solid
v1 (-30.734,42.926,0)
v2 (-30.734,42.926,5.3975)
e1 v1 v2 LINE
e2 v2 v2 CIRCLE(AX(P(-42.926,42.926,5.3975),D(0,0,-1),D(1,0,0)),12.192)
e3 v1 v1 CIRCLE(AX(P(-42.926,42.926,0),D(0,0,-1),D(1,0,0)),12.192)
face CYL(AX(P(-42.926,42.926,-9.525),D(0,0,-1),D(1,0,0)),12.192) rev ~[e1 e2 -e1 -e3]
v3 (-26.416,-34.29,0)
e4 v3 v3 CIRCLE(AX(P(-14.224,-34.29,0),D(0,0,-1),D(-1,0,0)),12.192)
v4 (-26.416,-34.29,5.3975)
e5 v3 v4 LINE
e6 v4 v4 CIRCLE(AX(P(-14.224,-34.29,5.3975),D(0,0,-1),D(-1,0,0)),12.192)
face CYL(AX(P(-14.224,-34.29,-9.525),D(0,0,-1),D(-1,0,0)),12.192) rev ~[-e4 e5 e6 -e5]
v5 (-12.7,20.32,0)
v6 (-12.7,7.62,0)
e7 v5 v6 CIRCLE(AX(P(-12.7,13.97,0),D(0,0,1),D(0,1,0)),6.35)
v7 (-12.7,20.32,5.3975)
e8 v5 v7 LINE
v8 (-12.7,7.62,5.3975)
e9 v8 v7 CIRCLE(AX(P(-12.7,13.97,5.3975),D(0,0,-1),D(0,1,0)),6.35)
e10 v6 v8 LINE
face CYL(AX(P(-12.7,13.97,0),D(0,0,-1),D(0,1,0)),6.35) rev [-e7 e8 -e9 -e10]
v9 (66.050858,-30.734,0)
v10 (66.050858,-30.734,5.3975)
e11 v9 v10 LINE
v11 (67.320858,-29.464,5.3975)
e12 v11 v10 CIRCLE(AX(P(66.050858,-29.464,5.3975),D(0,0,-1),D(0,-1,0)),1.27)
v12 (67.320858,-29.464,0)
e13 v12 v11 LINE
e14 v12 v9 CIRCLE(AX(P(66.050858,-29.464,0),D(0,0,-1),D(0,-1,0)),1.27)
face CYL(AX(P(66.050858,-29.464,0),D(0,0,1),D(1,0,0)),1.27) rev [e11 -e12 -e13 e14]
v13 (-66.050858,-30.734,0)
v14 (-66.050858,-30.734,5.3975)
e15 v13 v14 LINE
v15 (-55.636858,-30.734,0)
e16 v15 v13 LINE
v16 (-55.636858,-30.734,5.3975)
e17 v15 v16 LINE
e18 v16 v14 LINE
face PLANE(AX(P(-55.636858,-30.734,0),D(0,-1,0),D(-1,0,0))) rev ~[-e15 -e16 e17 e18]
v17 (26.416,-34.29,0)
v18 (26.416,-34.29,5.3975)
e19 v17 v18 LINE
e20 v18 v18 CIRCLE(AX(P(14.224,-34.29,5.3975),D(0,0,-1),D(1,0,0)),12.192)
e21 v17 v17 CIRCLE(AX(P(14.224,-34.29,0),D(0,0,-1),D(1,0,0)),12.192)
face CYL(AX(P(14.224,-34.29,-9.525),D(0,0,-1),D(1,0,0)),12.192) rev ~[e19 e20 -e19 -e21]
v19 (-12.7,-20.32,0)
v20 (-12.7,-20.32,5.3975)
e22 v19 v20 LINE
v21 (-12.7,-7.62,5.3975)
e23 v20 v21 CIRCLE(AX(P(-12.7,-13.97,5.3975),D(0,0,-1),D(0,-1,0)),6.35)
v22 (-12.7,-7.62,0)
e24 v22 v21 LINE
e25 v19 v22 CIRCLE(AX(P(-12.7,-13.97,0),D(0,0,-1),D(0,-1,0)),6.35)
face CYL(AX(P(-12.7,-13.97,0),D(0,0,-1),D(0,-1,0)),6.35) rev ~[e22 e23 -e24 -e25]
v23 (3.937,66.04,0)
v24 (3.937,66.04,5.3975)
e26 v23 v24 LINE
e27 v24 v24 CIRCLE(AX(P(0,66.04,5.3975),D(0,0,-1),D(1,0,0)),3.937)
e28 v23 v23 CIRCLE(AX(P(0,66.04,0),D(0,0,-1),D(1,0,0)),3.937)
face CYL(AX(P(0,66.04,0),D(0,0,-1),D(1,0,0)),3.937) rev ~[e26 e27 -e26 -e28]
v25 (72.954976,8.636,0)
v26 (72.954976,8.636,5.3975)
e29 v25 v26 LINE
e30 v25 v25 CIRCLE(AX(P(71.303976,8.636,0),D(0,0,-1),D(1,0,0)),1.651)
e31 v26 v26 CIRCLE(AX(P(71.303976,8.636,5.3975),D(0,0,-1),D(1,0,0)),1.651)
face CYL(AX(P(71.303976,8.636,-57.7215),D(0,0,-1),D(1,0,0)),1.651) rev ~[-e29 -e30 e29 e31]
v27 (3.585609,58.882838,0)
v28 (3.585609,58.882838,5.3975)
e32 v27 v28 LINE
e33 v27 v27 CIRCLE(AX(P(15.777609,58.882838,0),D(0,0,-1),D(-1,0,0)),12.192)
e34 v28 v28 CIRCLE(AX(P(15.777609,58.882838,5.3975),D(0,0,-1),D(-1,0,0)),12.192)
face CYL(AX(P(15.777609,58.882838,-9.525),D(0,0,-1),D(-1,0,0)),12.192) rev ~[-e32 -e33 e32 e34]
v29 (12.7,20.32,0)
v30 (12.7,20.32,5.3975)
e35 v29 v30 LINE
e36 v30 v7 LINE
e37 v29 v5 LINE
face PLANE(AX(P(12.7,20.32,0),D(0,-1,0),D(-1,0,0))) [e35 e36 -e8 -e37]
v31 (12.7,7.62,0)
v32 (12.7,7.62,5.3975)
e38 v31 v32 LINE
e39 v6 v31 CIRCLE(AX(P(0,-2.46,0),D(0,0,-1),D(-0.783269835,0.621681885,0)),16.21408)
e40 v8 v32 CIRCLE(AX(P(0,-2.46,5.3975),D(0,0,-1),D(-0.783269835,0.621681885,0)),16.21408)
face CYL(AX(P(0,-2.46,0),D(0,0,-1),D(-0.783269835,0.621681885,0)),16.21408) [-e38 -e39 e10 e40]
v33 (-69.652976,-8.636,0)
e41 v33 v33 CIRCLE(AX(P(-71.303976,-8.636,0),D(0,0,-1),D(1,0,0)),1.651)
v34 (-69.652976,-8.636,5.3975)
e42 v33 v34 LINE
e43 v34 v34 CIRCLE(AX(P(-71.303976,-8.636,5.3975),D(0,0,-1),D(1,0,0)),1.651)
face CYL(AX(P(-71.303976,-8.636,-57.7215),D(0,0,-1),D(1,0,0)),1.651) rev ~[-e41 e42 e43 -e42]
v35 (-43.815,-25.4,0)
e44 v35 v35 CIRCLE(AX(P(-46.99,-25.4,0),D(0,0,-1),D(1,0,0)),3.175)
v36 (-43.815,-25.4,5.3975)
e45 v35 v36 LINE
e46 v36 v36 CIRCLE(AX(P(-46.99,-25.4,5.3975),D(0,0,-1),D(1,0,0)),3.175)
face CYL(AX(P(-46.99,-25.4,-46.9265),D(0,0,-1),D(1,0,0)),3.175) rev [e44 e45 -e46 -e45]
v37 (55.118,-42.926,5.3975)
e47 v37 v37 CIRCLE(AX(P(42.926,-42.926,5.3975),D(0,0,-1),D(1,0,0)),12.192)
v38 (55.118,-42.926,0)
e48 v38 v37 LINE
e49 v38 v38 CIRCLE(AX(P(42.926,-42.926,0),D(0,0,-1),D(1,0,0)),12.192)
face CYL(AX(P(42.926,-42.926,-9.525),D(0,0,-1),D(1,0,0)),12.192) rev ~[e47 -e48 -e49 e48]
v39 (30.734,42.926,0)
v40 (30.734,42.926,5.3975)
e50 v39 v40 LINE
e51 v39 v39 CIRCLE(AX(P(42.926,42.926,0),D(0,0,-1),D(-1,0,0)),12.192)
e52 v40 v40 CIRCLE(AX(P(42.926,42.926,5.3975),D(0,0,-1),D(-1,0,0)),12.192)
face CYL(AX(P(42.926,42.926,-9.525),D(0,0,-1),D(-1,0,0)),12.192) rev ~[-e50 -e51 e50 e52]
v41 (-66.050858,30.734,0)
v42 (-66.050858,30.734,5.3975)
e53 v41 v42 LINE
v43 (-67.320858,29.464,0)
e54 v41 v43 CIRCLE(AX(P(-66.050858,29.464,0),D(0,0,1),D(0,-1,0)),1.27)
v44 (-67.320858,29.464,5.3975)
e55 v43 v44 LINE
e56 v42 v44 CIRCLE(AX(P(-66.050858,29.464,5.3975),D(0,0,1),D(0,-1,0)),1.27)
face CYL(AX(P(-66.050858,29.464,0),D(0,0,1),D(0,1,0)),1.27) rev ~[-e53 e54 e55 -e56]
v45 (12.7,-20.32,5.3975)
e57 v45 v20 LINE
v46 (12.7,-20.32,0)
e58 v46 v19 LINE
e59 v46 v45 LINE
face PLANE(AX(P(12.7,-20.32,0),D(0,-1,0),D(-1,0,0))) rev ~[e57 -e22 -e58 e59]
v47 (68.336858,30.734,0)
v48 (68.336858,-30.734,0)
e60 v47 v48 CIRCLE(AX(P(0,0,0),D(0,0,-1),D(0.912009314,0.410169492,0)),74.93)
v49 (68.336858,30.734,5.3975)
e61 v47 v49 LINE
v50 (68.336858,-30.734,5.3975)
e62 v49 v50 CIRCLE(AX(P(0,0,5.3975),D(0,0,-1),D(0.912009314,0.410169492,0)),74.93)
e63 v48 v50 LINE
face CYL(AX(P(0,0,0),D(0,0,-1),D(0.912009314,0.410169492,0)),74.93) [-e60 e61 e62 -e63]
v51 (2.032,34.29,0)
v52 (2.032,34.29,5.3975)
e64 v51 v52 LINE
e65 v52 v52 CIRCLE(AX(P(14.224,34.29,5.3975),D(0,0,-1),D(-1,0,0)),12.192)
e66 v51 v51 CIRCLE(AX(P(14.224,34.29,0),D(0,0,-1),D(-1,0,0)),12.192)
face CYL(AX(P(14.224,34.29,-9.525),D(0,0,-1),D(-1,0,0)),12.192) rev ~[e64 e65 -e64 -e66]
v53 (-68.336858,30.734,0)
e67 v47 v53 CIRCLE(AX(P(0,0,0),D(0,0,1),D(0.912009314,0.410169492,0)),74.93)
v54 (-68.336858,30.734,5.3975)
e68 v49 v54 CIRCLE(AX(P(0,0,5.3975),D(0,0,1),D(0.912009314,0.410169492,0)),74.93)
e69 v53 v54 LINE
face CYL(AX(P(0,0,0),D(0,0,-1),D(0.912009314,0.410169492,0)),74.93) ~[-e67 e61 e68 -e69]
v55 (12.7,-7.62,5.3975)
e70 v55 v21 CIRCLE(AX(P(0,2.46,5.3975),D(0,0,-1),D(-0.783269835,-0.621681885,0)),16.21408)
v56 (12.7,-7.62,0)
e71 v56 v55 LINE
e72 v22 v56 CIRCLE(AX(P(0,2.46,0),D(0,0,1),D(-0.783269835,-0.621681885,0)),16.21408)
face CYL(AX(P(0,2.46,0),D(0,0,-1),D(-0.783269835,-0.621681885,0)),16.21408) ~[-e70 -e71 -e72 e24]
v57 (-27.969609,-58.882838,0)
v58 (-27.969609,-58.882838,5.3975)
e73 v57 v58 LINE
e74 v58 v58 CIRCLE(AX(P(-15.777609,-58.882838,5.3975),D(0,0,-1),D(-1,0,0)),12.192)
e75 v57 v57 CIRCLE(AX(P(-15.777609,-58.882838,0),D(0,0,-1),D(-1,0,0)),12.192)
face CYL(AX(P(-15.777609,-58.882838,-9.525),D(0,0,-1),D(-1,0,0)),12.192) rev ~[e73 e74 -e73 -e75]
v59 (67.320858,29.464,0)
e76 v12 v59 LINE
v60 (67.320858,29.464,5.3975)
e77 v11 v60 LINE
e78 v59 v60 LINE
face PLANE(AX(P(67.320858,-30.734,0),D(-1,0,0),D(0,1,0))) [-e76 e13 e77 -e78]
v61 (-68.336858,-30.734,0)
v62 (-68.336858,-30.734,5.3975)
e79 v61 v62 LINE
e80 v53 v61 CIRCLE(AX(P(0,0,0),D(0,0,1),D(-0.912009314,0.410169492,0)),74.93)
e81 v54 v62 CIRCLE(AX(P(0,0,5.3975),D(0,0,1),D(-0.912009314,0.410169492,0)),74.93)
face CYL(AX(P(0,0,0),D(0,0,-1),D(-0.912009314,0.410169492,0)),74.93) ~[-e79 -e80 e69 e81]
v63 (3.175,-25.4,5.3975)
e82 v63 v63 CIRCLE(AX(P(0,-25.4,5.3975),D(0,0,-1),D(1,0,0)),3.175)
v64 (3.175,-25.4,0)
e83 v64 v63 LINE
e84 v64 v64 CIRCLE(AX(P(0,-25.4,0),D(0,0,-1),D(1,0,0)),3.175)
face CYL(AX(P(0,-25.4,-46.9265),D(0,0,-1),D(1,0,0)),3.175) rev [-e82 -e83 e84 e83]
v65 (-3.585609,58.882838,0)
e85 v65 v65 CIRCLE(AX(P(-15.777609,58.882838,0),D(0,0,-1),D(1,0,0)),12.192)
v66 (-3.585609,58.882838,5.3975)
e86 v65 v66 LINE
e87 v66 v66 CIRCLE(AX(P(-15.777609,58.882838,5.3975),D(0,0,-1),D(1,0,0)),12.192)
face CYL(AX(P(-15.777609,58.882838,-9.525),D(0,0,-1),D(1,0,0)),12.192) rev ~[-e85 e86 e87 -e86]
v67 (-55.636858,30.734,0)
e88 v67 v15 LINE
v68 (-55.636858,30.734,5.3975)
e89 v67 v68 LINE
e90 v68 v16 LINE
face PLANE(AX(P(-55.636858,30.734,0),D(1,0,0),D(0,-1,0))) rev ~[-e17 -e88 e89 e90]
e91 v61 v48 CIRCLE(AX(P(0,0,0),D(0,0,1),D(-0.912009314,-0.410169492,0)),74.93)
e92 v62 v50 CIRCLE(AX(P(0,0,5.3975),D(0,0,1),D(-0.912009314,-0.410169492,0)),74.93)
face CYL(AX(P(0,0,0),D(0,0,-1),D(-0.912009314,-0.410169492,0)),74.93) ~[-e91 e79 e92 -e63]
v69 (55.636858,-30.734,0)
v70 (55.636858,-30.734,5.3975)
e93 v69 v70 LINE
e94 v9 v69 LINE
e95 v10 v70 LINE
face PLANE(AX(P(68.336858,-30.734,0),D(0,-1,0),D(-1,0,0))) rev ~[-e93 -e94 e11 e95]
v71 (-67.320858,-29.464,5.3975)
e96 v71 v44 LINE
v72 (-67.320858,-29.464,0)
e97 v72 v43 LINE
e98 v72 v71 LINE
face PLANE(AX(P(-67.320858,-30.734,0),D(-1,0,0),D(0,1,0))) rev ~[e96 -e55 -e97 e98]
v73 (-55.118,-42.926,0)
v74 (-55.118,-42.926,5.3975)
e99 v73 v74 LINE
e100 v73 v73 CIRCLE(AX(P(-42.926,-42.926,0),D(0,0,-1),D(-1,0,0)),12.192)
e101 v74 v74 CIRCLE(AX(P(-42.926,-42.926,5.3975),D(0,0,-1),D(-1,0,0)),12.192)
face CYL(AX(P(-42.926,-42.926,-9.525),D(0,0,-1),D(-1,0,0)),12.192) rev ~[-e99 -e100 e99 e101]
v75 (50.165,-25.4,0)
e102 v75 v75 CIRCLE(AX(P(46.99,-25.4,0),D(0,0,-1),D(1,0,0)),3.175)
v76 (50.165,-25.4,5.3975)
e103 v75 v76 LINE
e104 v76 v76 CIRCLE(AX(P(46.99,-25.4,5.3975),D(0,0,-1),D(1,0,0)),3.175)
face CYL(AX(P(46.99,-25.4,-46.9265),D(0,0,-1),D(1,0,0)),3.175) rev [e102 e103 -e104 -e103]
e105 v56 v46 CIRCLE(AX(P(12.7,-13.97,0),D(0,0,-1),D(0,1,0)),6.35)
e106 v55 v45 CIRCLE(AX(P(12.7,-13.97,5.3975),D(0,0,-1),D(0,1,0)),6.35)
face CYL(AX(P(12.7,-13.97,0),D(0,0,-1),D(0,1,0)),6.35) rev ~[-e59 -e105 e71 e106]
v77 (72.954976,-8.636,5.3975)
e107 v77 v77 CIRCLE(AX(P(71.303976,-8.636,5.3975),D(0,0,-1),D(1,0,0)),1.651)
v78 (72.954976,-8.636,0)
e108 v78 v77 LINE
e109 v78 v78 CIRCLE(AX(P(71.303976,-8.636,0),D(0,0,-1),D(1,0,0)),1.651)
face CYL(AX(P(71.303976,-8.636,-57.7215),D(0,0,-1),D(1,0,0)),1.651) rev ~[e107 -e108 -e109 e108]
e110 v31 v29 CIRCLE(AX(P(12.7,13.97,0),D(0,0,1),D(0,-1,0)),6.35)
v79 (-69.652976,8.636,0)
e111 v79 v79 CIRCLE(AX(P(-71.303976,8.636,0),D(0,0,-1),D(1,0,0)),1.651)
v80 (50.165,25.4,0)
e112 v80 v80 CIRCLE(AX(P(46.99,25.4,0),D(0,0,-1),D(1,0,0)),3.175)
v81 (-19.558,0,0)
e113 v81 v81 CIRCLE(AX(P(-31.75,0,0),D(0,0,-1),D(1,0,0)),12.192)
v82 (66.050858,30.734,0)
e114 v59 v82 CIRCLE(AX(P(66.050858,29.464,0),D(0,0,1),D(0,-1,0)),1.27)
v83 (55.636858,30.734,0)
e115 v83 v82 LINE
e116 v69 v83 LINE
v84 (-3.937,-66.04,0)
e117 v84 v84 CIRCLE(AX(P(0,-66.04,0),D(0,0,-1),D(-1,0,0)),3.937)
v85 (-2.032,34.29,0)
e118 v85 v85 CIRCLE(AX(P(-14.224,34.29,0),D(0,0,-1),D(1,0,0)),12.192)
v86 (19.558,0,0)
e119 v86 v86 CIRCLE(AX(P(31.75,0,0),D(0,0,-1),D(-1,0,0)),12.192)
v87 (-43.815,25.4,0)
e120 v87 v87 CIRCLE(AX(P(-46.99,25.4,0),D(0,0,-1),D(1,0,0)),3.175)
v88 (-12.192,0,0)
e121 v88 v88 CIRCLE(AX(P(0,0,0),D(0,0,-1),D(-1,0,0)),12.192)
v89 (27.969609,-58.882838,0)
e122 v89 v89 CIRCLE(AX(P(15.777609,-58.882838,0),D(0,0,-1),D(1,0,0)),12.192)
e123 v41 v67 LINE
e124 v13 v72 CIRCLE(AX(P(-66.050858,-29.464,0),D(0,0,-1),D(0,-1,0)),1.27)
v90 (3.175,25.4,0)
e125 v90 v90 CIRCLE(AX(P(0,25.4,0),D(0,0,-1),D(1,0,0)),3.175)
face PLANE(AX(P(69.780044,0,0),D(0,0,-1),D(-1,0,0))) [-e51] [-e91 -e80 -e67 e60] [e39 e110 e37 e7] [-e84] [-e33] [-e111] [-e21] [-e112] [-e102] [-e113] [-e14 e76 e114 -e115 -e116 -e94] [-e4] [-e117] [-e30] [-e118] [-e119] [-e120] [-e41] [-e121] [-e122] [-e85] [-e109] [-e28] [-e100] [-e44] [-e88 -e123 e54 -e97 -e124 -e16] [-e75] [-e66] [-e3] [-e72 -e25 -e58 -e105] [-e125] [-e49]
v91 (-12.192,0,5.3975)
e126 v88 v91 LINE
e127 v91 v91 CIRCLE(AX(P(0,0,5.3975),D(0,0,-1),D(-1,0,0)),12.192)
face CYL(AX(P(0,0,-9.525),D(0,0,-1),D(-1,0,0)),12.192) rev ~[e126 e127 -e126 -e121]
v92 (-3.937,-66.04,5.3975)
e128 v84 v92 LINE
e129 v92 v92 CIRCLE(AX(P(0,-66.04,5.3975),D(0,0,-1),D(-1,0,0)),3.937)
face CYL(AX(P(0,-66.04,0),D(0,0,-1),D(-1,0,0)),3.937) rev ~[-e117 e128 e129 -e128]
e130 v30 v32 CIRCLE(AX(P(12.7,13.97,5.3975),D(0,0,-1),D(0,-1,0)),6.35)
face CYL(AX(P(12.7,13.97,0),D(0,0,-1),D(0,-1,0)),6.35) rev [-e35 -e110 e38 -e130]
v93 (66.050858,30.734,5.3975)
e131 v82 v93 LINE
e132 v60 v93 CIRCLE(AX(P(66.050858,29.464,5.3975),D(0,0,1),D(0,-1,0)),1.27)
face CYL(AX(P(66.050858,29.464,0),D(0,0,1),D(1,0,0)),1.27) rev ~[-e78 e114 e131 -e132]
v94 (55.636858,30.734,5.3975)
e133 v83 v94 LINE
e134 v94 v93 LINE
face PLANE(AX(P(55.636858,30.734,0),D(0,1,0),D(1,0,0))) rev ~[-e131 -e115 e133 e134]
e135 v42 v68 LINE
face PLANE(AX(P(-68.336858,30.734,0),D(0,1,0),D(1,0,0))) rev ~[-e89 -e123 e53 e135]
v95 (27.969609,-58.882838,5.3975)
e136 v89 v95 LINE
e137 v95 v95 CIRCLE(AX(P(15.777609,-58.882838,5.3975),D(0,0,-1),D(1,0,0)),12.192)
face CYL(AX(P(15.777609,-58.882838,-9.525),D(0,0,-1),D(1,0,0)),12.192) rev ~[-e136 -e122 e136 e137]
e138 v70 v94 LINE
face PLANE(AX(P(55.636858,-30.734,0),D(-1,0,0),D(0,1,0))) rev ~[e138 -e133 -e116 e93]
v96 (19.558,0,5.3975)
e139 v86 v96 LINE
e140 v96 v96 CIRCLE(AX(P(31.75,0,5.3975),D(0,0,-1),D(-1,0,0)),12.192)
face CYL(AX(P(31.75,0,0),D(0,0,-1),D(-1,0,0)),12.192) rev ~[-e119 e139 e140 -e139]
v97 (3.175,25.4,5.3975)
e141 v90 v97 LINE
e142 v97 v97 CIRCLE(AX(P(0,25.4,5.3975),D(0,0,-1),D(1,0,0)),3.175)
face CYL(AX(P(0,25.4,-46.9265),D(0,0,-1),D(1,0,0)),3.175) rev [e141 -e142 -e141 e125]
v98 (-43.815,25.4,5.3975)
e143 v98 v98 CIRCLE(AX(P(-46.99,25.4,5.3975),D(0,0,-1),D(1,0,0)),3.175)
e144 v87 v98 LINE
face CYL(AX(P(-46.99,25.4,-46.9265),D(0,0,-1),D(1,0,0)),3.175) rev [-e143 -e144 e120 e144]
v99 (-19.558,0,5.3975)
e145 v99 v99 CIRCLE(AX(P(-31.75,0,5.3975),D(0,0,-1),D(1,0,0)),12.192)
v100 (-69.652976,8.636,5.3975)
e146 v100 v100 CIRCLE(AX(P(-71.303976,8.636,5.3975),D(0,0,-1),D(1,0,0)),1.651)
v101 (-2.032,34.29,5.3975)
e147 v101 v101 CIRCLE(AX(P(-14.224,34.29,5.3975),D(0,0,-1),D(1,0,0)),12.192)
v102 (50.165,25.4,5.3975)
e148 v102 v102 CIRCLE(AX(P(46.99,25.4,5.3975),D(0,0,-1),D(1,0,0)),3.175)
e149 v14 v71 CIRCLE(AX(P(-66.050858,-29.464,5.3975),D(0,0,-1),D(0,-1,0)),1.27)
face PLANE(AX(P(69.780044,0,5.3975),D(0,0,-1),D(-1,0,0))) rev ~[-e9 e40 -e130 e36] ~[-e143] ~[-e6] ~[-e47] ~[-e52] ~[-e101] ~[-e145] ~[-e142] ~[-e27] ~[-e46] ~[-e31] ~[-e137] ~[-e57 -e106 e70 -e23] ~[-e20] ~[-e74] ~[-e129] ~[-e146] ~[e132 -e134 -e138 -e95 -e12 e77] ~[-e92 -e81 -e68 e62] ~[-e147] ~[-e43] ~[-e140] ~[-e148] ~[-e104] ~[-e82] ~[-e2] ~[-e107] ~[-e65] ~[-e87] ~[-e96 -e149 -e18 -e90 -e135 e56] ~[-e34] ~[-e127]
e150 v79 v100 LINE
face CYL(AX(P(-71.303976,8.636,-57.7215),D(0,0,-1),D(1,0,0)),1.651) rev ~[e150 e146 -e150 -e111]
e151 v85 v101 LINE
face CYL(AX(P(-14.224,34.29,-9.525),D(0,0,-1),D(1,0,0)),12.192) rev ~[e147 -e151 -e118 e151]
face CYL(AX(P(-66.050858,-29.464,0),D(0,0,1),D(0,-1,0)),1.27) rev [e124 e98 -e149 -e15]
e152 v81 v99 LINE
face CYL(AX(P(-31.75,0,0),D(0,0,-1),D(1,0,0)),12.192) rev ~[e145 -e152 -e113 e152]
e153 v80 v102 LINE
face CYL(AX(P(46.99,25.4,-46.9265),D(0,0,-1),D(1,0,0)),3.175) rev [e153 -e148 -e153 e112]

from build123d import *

# Parameters (mm, degrees)
SKETCH1_R                = 1.651
BOSS_EXTRUDE2_DEPTH      = 5.3975
BOSS_EXTRUDE3_DEPTH      = 5.3975
FILLET1_R                = 1.27
SKETCH5_W                = 36.105919561
SKETCH5_H                = 30.801250688
SKETCH5_W_2              = 35.958513686
SKETCH5_H_2              = 33.469345806
BOSS_EXTRUDE4_DEPTH      = 5.3975
SKETCH7_R                = 3.175
CUT_EXTRUDE4_DEPTH       = 234.082045613
CUT_EXTRUDE4_DEPTH_BACK  = 234.082045613
SKETCH8_R                = 4.445
BOSS_EXTRUDE5_DEPTH      = 5.3975
SKETCH12_R               = 12.192
CUT_EXTRUDE8_DEPTH       = 154.925374637
CUT_EXTRUDE8_DEPTH_BACK  = 154.925374637
SKETCH14_R               = 12.192
CUT_EXTRUDE10_DEPTH      = 38.862
SKETCH15_R               = 3.937
CUT_EXTRUDE11_DEPTH      = 21.59
SKETCH16_R               = 1.651
CUT_EXTRUDE12_DEPTH      = 150.876
SKETCH17_R               = 3.175
CUT_EXTRUDE13_DEPTH      = 103.378
CUT_EXTRUDE13_DEPTH_BACK = 48.768


with BuildPart() as part:
    # Sketch1 → Boss-Extrude2 (new body)
    with BuildSketch(Plane.XY):
        with BuildLine():
            Line((-68.336857873, 30.734), (-55.636857873, 30.734))
            Line((-55.636857873, 30.734), (-55.636857873, -30.734))
            Line((-55.636857873, -30.734), (-68.336857873, -30.734))
            ThreePointArc((-68.336857873, -30.734), (0, -74.93), (68.336857873, -30.734))
            Line((68.336857873, -30.734), (55.636857873, -30.734))
            Line((55.636857873, -30.734), (55.636857873, 30.734))
            Line((55.636857873, 30.734), (68.336857873, 30.734))
            ThreePointArc((68.336857873, 30.734), (0, 74.93), (-68.336857873, 30.734))
        make_face()
        with Locations((-45.466, 11.049)):
            Circle(SKETCH1_R, mode=Mode.SUBTRACT)
        with Locations((-20.067270032, 10.795)):
            Circle(SKETCH1_R, mode=Mode.SUBTRACT)
        with Locations(Location((-20.067270032, -10.795, 0), (0, 0, 180))):
            Circle(SKETCH1_R, mode=Mode.SUBTRACT)
        with Locations(Location((-45.466, -11.049, 0), (0, 0, 180))):
            Circle(SKETCH1_R, mode=Mode.SUBTRACT)
        with Locations((45.466, -11.049)):
            Circle(SKETCH1_R, mode=Mode.SUBTRACT)
        with Locations((20.067270032, -10.795)):
            Circle(SKETCH1_R, mode=Mode.SUBTRACT)
        with Locations(Location((20.067270032, 10.795, 0), (0, 0, 180))):
            Circle(SKETCH1_R, mode=Mode.SUBTRACT)
        with Locations(Location((45.466, 11.049, 0), (0, 0, 180))):
            Circle(SKETCH1_R, mode=Mode.SUBTRACT)
    extrude(amount=BOSS_EXTRUDE2_DEPTH)

    # Sketch4 → Boss-Extrude3 (add)
    with BuildSketch(Plane(origin=(0, 0, 0), x_dir=(-1, 0, 0), z_dir=(0, 0, -1))):
        with BuildLine():
            Line((-68.336857873, -30.734), (-67.320857873, -30.734))
            Line((-67.320857873, -30.734), (-67.320857873, 30.734))
            Line((-67.320857873, 30.734), (-68.336857873, 30.734))
            ThreePointArc((-68.336857873, 30.734), (-74.93, 0), (-68.336857873, -30.734))
        make_face()
        with BuildLine():
            Line((67.320857873, 30.734), (68.336857873, 30.734))
            ThreePointArc((68.336857873, 30.734), (74.93, 0), (68.336857873, -30.734))
            Line((68.336857873, -30.734), (67.320857873, -30.734))
            Line((67.320857873, -30.734), (67.320857873, 30.734))
        make_face()
    extrude(amount=-BOSS_EXTRUDE3_DEPTH)

    # Fillet1
    fillet1_edges = [part.edges().sort_by_distance(p)[0] for p in [
        (67.320857873, -30.734, 2.69875),
        (67.320857873, 30.734, 2.69875),
        (-67.320857873, 30.734, 2.69875),
        (-67.320857873, -30.734, 2.69875),
    ]]
    fillet(fillet1_edges, radius=FILLET1_R)

    # Sketch5 → Boss-Extrude4 (add)
    with BuildSketch(Plane(origin=(0, 0, 0), x_dir=(-1, 0, 0), z_dir=(0, 0, -1))):
        with Locations((34.78484389, -0.38515144)):
            Rectangle(SKETCH5_W, SKETCH5_H)
        with Locations((-32.830563904, 0.948896119)):
            Rectangle(SKETCH5_W_2, SKETCH5_H_2)
    extrude(amount=-BOSS_EXTRUDE4_DEPTH)

    # Sketch7 → Cut-Extrude4 (cut, two sides)
    with BuildSketch(Plane(origin=(30.087765895, -133.08292226, 0), x_dir=(-0.008405041193852665, -0.9999646770174084, 0), z_dir=(0, 0, 1))) as cut_extrude4_sk:
        with Locations(Location((-157.958959999, 14.406563609, 0), (0, 0, 90.481579057))):
            Circle(SKETCH7_R)
        with Locations(Location((-173.198959999, -31.313436391, 0), (0, 0, 90.481579057))):
            Circle(SKETCH7_R)
        with Locations(Location((-157.958959999, -77.033436391, 0), (0, 0, 270.481579057))):
            Circle(SKETCH7_R)
        with Locations(Location((-107.158959999, -77.033436391, 0), (0, 0, 90.481579057))):
            Circle(SKETCH7_R)
        with Locations(Location((-91.918959999, -31.313436391, 0), (0, 0, 270.481579057))):
            Circle(SKETCH7_R)
        with Locations(Location((-107.158959999, 14.406563609, 0), (0, 0, 270.481579057))):
            Circle(SKETCH7_R)
    extrude(amount=CUT_EXTRUDE4_DEPTH, mode=Mode.SUBTRACT)
    extrude(cut_extrude4_sk.sketch, amount=-CUT_EXTRUDE4_DEPTH_BACK, mode=Mode.SUBTRACT)

    # Sketch8 → Boss-Extrude5 (add)
    with BuildSketch(Plane(origin=(0, 0, 0), x_dir=(-1, 0, 0), z_dir=(0, 0, -1))):
        with Locations((-45.821472187, 24.749370396)):
            Circle(SKETCH8_R)
        with Locations((-0.231179981, 40.373110558)):
            Circle(SKETCH8_R)
        with Locations((45.61529788, 25.517927363)):
            Circle(SKETCH8_R)
        with Locations((46.042273972, -25.280278229)):
            Circle(SKETCH8_R)
        with Locations((0.451981767, -40.90401839)):
            Circle(SKETCH8_R)
        with Locations((-45.394496094, -26.048835196)):
            Circle(SKETCH8_R)
    extrude(amount=-BOSS_EXTRUDE5_DEPTH)

    # Sketch12 → Cut-Extrude8 (cut, two sides)
    with BuildSketch(Plane(origin=(54.141453623, -7.598175858, -9.525), x_dir=(-1, 0, 0), z_dir=(0, 0, -1))) as cut_extrude8_sk:
        with Locations((11.215453623, 50.524175858)):
            Circle(SKETCH12_R)
        with Locations((38.363844634, 66.481014229)):
            Circle(SKETCH12_R)
        with Locations((39.917453623, 41.888175858)):
            Circle(SKETCH12_R)
        with Locations((54.141453623, 7.598175858)):
            Circle(SKETCH12_R)
        with Locations(Location((69.919062613, 66.481014229, 0), (0, 0, 180))):
            Circle(SKETCH12_R)
        with Locations(Location((68.365453623, 41.888175858, 0), (0, 0, 180))):
            Circle(SKETCH12_R)
        with Locations(Location((97.067453623, 50.524175858, 0), (0, 0, 180))):
            Circle(SKETCH12_R)
        with Locations((68.365453623, -26.691824142)):
            Circle(SKETCH12_R)
        with Locations((97.067453623, -35.327824142)):
            Circle(SKETCH12_R)
        with Locations((69.919062613, -51.284662512)):
            Circle(SKETCH12_R)
        with Locations(Location((38.363844634, -51.284662512, 0), (0, 0, 180))):
            Circle(SKETCH12_R)
        with Locations(Location((11.215453623, -35.327824142, 0), (0, 0, 180))):
            Circle(SKETCH12_R)
        with Locations(Location((39.917453623, -26.691824142, 0), (0, 0, 180))):
            Circle(SKETCH12_R)
    extrude(amount=CUT_EXTRUDE8_DEPTH, mode=Mode.SUBTRACT)
    extrude(cut_extrude8_sk.sketch, amount=-CUT_EXTRUDE8_DEPTH_BACK, mode=Mode.SUBTRACT)

    # Sketch14 → Cut-Extrude10 (cut)
    with BuildSketch(Plane(origin=(0, 0, 0), x_dir=(-1, 0, 0), z_dir=(0, 0, -1))):
        with Locations((-31.75, 0)):
            Circle(SKETCH14_R)
        with Locations(Location((31.75, 0, 0), (0, 0, 180))):
            Circle(SKETCH14_R)
        with BuildLine():
            Line((-12.7, 20.32), (12.7, 20.32))
            ThreePointArc((12.7, 20.32), (19.05, 13.97), (12.7, 7.62))
            ThreePointArc((12.7, 7.62), (0, 13.754080301), (-12.7, 7.62))
            ThreePointArc((-12.7, 7.62), (-19.05, 13.97), (-12.7, 20.32))
        make_face()
        with BuildLine():
            Line((-12.7, -20.32), (12.7, -20.32))
            ThreePointArc((12.7, -20.32), (19.05, -13.97), (12.7, -7.62))
            ThreePointArc((12.7, -7.62), (0, -13.754080301), (-12.7, -7.62))
            ThreePointArc((-12.7, -7.62), (-19.05, -13.97), (-12.7, -20.32))
        make_face()
    extrude(amount=-CUT_EXTRUDE10_DEPTH, mode=Mode.SUBTRACT)

    # Sketch15 → Cut-Extrude11 (cut)
    with BuildSketch(Plane(origin=(0, 0, 0), x_dir=(-1, 0, 0), z_dir=(0, 0, -1))):
        with Locations((0, -66.04)):
            Circle(SKETCH15_R)
        with Locations(Location((0, 66.04, 0), (0, 0, 180))):
            Circle(SKETCH15_R)
    extrude(amount=-CUT_EXTRUDE11_DEPTH, mode=Mode.SUBTRACT)

    # Sketch16 → Cut-Extrude12 (cut)
    with BuildSketch(Plane(origin=(-30.092005081, 4.08352975, -57.7215), x_dir=(-1, 0, 0), z_dir=(0, 0, -1))):
        with Locations(Location((-101.395980802, -12.71952975, 0), (0, 0, 180))):
            Circle(SKETCH16_R)
        with Locations(Location((-101.395980802, 4.55247025, 0), (0, 0, 180))):
            Circle(SKETCH16_R)
        with Locations(Location((41.211970641, -12.71952975, 0), (0, 0, 180))):
            Circle(SKETCH16_R)
        with Locations(Location((41.211970641, 4.55247025, 0), (0, 0, 180))):
            Circle(SKETCH16_R)
    extrude(amount=-CUT_EXTRUDE12_DEPTH, mode=Mode.SUBTRACT)

    # Sketch17 → Cut-Extrude13 (cut, two sides)
    with BuildSketch(Plane(origin=(-30.092005081, 4.08352975, -46.9265), x_dir=(1, 0, 0), z_dir=(0, 0, 1))) as cut_extrude13_sk:
        with Locations((-16.897994919, 21.31647025)):
            Circle(SKETCH17_R)
        with Locations((77.082005081, 21.31647025)):
            Circle(SKETCH17_R)
        with Locations((30.092005081, 21.31647025)):
            Circle(SKETCH17_R)
        with Locations((77.082005081, -29.48352975)):
            Circle(SKETCH17_R)
        with Locations((30.092005081, -29.48352975)):
            Circle(SKETCH17_R)
        with Locations((-16.897994919, -29.48352975)):
            Circle(SKETCH17_R)
    extrude(amount=CUT_EXTRUDE13_DEPTH, mode=Mode.SUBTRACT)
    extrude(cut_extrude13_sk.sketch, amount=-CUT_EXTRUDE13_DEPTH_BACK, mode=Mode.SUBTRACT)


solid = part.part
